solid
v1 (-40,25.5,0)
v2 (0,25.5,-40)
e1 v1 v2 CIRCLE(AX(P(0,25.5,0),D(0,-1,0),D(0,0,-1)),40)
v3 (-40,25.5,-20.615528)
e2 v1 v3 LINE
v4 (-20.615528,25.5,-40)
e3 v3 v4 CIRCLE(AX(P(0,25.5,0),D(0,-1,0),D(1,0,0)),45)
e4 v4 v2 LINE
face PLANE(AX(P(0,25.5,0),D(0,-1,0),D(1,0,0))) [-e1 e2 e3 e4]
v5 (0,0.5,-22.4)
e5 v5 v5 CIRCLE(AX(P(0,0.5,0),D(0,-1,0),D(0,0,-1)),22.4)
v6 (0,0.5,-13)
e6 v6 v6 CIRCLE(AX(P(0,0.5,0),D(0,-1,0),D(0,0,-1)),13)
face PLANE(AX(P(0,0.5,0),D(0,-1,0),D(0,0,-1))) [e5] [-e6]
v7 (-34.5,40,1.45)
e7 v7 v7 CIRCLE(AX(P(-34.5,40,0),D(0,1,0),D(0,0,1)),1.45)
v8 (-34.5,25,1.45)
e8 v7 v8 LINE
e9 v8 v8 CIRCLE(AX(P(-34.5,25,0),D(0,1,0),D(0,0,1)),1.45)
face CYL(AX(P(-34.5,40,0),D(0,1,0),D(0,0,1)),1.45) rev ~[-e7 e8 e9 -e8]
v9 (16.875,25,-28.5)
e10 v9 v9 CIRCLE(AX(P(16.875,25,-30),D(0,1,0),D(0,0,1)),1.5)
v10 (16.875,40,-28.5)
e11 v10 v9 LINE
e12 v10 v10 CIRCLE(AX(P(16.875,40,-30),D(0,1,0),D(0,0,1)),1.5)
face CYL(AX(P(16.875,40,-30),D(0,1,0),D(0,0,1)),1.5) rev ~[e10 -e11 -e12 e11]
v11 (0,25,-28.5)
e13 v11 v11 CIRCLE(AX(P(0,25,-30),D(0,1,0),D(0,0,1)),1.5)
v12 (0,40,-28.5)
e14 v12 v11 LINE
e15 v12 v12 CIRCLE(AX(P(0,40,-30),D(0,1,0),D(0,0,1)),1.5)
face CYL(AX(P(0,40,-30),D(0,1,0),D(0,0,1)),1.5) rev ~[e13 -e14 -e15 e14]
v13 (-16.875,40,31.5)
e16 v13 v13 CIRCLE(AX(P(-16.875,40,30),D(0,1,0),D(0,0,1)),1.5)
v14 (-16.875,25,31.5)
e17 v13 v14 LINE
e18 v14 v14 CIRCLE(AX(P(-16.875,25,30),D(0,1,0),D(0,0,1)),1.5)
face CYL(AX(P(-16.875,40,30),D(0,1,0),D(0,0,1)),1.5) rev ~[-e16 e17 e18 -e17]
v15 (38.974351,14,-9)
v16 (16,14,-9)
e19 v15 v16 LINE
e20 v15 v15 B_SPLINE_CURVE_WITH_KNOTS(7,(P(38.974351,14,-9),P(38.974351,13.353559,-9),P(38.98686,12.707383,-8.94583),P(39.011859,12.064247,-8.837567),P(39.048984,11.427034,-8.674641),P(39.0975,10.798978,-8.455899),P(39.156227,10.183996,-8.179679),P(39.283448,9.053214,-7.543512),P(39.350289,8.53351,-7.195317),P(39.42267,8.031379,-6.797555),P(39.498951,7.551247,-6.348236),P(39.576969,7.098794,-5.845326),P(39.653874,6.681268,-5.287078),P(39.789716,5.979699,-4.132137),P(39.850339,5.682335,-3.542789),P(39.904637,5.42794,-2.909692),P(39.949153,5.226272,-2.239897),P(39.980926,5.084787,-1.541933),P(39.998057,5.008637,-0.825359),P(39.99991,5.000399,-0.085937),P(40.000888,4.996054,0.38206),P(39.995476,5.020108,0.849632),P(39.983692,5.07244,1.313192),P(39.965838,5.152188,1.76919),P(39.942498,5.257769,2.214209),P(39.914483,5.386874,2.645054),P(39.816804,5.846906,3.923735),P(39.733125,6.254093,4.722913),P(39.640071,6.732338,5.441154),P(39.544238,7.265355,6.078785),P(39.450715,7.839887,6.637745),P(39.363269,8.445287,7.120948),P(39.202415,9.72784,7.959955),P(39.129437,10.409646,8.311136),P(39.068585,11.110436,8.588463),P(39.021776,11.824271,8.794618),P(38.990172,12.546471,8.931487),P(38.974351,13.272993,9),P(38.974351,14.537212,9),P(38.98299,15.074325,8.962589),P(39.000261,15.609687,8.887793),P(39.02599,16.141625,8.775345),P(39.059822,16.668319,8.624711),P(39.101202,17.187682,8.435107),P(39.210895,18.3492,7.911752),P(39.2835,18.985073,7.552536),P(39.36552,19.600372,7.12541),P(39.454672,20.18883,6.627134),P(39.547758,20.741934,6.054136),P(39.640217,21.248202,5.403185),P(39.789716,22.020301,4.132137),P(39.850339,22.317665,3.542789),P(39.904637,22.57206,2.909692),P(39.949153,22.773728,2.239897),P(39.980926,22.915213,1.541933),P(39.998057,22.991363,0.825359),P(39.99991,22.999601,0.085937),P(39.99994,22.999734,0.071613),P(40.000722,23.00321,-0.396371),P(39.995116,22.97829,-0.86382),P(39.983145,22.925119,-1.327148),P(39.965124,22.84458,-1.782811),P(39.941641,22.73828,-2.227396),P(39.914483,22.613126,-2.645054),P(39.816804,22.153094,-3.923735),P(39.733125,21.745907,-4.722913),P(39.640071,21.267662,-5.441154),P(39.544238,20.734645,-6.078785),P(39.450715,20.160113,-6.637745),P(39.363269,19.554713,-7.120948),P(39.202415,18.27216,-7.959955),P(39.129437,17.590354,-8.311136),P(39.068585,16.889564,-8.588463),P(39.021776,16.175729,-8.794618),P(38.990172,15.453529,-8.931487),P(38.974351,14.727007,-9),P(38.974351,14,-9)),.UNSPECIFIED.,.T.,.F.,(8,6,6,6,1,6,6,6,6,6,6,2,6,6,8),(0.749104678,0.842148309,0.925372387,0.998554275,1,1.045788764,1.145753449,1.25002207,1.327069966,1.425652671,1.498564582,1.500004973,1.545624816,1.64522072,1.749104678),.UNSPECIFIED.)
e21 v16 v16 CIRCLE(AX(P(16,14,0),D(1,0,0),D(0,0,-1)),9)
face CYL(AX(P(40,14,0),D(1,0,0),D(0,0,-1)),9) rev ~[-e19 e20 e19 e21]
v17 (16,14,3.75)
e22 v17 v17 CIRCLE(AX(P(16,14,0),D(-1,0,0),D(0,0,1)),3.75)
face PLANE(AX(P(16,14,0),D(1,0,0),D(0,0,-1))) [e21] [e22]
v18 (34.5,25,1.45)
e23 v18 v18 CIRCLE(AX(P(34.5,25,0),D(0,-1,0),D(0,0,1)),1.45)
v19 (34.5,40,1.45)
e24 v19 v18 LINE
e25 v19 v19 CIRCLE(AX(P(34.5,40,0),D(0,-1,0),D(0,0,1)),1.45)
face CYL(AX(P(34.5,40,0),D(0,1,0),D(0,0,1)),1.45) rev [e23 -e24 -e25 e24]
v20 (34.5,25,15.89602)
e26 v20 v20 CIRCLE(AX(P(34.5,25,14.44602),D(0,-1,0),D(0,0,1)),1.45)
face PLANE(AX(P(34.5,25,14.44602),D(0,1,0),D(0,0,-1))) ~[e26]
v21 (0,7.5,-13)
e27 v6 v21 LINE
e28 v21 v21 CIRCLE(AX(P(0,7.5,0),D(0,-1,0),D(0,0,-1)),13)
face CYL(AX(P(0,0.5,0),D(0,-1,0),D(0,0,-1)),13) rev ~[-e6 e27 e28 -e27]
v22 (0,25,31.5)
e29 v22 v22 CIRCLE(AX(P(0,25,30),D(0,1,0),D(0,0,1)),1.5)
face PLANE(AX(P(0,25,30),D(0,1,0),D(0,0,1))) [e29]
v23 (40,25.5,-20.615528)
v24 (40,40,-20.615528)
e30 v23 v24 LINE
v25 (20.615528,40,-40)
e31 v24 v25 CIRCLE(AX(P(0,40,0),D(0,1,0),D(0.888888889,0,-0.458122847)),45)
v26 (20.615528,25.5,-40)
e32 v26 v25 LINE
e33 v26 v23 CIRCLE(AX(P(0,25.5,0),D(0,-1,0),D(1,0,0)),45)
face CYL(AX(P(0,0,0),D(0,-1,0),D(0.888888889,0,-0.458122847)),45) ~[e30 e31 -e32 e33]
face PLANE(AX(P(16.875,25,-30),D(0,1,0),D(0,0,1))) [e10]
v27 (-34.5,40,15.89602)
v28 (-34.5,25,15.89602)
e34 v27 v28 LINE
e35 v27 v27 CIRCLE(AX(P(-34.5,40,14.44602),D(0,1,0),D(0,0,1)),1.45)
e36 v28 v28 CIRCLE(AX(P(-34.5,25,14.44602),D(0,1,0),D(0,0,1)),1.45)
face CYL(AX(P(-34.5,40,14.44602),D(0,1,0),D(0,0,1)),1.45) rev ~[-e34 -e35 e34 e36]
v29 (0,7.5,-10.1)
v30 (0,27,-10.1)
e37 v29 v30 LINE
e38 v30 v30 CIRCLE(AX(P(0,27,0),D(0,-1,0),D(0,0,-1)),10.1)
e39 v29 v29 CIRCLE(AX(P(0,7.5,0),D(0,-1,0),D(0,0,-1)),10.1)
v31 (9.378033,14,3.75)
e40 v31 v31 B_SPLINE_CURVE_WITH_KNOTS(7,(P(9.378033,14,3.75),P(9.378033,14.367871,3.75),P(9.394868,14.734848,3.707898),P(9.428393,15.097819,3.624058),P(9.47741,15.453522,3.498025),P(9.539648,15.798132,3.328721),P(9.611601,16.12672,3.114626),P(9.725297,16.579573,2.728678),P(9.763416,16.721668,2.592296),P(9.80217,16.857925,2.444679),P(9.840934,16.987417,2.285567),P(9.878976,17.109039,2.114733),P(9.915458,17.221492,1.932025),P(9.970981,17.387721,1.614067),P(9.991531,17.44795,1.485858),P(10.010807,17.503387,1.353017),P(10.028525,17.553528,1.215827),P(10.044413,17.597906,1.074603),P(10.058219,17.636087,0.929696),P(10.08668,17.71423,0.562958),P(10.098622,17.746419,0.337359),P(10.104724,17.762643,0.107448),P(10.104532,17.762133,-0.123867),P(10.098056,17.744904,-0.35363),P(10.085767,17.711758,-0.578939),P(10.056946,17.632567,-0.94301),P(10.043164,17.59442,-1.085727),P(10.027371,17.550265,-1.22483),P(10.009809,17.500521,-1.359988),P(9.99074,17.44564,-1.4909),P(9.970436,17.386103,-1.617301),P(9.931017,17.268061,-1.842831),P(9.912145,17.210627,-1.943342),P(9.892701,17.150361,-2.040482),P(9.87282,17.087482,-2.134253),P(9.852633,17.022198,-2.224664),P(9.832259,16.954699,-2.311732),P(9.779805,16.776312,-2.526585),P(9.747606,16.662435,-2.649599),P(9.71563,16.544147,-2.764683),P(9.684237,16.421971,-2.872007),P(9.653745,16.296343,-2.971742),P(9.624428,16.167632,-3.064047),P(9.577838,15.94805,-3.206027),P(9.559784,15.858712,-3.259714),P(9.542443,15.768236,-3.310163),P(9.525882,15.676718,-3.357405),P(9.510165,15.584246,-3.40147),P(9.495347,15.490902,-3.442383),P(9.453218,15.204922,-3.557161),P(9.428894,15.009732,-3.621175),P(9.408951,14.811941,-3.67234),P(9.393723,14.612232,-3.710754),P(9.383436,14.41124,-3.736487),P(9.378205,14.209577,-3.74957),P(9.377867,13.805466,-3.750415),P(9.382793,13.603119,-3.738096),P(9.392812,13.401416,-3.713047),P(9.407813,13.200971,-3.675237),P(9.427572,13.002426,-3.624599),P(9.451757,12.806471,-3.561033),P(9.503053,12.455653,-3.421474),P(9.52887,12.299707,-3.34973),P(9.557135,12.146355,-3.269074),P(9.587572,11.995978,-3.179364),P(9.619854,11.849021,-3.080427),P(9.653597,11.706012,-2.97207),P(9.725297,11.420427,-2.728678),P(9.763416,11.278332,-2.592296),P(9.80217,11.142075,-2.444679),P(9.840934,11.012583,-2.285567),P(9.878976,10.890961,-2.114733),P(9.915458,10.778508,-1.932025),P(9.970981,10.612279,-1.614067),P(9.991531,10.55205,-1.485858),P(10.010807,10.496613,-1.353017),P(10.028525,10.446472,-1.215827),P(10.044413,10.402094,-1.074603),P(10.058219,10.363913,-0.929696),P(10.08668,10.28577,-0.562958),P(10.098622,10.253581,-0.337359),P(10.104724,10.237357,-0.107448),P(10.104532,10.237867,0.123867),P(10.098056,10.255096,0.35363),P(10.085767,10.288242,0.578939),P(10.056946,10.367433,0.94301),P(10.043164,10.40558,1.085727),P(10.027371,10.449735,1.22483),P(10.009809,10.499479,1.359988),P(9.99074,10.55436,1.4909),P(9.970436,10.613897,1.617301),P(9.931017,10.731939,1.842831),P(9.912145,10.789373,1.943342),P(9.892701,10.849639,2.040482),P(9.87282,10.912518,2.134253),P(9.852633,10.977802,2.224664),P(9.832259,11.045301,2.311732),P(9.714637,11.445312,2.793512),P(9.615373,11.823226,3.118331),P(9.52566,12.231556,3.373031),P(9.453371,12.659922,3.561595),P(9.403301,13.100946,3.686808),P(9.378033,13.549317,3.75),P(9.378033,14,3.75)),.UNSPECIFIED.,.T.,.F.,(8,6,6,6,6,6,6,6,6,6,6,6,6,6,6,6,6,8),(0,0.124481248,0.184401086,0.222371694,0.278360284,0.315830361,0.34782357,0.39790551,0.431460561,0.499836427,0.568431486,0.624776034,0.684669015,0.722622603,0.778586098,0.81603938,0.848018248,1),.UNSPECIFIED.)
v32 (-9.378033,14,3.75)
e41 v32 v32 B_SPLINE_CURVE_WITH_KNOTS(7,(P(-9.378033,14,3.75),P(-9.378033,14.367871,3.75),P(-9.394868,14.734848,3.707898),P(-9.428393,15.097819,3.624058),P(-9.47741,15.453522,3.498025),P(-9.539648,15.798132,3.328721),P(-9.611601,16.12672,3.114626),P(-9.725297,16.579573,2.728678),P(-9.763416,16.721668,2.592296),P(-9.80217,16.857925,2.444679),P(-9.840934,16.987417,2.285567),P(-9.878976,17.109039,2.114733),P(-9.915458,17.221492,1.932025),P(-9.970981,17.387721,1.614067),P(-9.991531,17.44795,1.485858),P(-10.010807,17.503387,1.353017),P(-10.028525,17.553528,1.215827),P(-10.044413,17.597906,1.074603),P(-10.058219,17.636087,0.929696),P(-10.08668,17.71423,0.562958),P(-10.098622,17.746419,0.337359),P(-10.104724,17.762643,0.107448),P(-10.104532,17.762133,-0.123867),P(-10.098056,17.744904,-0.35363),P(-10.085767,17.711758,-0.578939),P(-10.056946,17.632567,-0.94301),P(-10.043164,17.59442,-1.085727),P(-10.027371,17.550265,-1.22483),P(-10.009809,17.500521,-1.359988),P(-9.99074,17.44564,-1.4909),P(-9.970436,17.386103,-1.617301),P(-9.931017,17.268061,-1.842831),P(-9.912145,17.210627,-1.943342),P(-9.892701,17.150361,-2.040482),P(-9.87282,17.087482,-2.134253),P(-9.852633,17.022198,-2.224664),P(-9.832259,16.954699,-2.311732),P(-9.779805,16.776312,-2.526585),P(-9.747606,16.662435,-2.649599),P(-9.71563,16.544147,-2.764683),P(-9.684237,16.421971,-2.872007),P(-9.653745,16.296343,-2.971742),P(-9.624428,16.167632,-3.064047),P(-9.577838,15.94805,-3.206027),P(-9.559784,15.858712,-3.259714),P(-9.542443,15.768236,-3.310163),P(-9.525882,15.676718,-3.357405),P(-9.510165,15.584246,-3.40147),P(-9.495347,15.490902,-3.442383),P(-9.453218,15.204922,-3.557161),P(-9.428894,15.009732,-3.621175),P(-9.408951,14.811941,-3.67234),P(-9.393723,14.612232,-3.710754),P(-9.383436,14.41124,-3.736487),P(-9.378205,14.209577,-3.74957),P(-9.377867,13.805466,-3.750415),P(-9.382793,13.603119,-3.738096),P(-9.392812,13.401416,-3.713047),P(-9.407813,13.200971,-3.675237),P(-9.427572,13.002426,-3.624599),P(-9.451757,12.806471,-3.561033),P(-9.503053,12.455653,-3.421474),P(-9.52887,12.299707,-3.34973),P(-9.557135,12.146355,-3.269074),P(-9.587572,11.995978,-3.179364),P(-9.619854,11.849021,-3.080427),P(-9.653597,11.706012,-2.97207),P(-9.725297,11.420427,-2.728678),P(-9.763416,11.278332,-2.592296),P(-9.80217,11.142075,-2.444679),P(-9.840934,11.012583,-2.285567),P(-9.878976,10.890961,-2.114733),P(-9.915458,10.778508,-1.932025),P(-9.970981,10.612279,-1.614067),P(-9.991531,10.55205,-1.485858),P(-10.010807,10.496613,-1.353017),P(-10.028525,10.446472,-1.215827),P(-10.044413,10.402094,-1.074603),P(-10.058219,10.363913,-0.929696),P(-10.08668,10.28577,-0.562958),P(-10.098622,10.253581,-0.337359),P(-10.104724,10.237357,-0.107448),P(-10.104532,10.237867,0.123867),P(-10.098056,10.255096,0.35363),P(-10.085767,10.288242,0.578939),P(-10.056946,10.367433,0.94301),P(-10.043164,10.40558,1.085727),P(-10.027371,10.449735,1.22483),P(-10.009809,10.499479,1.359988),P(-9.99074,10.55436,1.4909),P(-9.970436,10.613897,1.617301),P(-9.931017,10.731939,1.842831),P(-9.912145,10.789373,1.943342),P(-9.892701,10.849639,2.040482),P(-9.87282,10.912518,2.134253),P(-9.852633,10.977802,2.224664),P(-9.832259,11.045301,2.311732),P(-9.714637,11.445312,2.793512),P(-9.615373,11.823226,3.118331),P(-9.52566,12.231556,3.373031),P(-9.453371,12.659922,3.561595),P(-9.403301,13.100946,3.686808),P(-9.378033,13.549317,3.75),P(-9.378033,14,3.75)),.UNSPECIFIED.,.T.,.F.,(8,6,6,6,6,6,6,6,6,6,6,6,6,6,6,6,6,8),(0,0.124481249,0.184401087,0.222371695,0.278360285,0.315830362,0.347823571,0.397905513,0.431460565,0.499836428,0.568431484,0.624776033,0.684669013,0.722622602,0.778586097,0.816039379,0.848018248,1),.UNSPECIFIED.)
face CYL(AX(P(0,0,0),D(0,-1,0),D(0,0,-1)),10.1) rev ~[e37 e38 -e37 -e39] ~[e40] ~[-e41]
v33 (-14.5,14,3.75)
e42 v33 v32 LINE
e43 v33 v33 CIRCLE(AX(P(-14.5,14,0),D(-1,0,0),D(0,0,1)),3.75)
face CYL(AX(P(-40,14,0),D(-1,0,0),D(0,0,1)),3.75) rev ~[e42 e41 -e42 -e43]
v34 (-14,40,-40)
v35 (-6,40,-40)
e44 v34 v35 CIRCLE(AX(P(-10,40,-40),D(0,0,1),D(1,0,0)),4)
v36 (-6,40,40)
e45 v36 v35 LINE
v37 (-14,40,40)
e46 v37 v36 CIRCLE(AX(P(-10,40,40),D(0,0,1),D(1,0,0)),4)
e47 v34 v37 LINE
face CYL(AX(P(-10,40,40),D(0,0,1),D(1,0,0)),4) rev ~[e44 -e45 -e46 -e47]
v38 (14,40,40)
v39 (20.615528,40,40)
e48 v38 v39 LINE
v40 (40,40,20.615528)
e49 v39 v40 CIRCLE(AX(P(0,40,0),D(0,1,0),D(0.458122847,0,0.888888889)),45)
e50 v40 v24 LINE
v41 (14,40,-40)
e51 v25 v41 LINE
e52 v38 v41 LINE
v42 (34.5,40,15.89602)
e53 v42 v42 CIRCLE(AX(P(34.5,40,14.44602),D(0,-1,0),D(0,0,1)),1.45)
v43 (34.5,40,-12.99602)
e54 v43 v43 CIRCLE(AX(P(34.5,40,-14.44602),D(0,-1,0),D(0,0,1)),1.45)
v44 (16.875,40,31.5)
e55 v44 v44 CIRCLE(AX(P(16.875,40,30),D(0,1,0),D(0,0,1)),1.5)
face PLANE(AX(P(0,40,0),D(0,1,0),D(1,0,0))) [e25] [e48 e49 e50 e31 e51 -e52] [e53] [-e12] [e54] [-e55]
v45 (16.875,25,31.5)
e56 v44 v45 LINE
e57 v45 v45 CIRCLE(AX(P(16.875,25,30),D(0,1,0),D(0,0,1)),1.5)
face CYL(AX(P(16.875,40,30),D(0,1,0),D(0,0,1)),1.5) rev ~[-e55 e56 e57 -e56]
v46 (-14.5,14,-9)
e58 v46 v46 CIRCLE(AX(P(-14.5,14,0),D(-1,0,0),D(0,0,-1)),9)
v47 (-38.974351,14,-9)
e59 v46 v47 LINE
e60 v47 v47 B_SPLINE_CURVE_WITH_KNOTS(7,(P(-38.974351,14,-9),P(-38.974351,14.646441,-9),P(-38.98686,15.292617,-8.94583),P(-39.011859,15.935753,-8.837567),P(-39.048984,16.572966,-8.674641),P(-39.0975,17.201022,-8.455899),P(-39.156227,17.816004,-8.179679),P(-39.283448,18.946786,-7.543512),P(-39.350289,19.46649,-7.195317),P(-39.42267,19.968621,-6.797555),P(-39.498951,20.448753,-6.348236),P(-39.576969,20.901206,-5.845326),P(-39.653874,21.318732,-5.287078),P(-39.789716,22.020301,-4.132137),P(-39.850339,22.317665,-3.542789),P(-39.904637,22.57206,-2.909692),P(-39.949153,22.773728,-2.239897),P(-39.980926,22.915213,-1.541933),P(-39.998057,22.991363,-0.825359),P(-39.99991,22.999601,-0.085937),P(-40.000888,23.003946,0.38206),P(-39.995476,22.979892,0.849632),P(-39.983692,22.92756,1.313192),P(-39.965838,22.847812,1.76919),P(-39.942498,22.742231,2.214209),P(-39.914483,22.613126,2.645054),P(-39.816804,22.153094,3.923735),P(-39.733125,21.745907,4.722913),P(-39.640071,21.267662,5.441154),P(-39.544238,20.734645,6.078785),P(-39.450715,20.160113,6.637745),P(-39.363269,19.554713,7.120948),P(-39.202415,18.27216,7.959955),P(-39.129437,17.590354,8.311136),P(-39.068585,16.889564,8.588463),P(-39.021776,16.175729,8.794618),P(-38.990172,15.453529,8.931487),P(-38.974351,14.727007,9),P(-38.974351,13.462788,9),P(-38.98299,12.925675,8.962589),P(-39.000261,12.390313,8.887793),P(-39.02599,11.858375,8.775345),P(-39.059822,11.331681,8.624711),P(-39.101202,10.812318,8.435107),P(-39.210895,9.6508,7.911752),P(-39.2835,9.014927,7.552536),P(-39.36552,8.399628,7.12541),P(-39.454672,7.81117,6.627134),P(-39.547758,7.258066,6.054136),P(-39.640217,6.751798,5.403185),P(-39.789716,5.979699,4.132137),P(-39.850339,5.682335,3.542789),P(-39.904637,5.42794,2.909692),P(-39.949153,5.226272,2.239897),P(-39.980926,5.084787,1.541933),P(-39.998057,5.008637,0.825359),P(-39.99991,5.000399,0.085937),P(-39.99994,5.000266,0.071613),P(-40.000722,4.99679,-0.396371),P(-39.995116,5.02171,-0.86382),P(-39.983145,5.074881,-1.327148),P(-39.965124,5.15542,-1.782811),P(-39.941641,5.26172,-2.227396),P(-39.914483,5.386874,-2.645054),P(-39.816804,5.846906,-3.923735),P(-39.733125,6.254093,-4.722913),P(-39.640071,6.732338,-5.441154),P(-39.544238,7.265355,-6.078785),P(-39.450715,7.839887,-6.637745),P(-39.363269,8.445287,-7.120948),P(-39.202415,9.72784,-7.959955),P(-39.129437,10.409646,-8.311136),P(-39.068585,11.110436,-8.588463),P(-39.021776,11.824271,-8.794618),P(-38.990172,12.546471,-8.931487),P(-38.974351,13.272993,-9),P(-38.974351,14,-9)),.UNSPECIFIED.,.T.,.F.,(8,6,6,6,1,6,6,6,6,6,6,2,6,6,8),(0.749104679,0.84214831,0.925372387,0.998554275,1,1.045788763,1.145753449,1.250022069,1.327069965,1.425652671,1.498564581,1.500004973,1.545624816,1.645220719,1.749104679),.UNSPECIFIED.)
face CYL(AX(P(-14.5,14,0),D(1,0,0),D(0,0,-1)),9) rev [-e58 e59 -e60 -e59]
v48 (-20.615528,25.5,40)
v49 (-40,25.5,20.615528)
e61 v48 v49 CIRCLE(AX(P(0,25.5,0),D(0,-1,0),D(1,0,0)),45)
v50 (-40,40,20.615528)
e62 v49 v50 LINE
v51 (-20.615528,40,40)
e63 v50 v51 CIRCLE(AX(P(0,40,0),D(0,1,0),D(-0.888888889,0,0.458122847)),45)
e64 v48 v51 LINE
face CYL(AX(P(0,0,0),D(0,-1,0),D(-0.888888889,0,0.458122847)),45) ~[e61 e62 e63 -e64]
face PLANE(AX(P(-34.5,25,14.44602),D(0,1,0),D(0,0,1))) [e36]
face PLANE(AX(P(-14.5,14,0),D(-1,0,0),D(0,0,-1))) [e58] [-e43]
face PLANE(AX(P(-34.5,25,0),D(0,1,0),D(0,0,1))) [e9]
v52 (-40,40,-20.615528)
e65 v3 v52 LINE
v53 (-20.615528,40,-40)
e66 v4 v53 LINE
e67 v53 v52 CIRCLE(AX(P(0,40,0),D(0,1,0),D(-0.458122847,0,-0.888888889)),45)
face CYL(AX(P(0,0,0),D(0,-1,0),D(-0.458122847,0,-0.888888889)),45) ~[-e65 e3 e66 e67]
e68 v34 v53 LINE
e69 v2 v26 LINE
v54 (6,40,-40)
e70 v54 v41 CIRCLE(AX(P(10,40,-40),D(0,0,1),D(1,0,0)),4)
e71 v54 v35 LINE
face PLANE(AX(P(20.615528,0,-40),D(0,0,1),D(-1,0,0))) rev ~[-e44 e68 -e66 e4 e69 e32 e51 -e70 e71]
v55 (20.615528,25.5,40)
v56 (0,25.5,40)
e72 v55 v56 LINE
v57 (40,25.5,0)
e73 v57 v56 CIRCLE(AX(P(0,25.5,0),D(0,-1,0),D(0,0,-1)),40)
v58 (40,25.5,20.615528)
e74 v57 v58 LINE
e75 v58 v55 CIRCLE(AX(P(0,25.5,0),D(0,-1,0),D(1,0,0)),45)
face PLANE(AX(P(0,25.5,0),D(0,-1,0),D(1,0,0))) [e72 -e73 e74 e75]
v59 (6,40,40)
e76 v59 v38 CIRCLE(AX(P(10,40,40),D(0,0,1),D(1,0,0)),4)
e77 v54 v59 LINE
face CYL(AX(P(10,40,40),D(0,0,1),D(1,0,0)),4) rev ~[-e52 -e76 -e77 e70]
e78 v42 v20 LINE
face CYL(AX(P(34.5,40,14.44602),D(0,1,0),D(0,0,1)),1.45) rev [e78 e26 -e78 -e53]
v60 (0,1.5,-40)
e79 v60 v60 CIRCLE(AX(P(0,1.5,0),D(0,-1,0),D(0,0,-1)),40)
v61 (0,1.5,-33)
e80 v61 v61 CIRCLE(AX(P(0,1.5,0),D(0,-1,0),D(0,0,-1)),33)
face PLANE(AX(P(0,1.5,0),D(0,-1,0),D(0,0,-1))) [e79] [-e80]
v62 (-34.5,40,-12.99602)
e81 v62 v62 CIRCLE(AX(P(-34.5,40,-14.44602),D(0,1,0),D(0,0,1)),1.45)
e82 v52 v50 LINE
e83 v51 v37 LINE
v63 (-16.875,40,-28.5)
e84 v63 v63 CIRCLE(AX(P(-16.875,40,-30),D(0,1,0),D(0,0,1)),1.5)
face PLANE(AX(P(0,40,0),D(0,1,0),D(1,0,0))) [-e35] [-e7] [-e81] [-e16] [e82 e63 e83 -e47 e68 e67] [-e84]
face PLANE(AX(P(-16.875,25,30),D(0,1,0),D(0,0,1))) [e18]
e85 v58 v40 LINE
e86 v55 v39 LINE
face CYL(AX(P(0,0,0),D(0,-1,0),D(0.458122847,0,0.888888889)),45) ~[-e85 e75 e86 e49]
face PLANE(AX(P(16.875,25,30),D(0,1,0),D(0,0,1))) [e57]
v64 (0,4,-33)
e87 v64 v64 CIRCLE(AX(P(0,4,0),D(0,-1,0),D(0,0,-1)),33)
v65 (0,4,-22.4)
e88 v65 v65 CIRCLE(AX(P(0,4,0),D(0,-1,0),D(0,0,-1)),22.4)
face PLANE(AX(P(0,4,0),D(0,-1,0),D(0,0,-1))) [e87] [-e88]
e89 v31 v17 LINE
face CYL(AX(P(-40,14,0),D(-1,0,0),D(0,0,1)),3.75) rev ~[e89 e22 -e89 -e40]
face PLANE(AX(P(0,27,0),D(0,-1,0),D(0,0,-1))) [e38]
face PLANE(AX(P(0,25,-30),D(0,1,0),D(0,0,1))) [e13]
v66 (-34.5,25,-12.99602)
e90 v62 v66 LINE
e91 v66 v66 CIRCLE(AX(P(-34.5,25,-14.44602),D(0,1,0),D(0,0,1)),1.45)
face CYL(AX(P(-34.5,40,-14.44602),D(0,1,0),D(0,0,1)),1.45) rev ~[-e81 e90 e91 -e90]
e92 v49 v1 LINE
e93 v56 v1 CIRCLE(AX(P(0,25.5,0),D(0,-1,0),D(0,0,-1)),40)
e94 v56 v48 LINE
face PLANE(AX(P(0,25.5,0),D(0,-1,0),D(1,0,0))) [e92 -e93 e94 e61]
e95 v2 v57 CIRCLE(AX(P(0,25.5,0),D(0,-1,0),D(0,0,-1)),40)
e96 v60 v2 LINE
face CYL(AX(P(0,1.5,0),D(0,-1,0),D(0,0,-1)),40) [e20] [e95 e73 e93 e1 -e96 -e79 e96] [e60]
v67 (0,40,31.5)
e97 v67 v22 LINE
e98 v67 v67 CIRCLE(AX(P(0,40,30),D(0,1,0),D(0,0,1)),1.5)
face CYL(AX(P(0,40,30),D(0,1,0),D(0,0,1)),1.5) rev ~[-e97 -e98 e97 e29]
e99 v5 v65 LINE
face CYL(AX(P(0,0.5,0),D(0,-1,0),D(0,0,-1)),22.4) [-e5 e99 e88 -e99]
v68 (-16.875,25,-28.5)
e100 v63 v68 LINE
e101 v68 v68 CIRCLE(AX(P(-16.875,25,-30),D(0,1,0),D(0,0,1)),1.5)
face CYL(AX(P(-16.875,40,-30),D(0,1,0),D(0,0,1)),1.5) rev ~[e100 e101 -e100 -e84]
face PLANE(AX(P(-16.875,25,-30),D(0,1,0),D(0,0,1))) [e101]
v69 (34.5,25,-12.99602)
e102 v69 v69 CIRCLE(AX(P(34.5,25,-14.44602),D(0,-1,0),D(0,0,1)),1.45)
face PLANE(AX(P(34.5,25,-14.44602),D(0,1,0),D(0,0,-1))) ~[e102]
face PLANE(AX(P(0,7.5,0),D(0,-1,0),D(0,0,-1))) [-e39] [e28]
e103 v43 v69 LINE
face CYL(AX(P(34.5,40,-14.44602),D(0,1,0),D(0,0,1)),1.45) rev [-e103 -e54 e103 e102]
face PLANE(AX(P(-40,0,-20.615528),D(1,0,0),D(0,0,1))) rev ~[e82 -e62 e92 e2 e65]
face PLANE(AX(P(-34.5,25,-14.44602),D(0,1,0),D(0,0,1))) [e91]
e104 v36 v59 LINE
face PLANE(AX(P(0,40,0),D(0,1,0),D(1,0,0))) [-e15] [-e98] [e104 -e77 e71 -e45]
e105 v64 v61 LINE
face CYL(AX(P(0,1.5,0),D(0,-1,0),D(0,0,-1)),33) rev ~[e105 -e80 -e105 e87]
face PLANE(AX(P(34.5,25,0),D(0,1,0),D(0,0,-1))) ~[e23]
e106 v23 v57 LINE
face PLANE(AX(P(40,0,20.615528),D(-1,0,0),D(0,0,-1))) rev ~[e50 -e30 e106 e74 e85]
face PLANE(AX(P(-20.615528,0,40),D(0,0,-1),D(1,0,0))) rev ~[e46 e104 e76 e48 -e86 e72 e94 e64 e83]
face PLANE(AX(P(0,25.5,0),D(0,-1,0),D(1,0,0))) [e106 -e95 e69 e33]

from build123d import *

# Parameters (mm, degrees)
SALIENTE_EXTRUIR1_DEPTH = 40
CROQUIS5_R              = 1.45
CORTAR_EXTRUIR3_DEPTH   = 15
CROQUIS6_R              = 4
CORTAR_EXTRUIR4_DEPTH   = 106
CROQUIS8_R              = 10.1
CORTAR_EXTRUIR5_DEPTH   = 27
CROQUIS9_R              = 3.75
CORTAR_EXTRUIR6_DEPTH   = 80
CROQUIS12_R             = 1.5
CORTAR_EXTRUIR8_DEPTH   = 15
CROQUIS16_W             = 80
CROQUIS16_H             = 3
CORTAR_EXTRUIR11_DEPTH  = 80
CROQUIS21_R             = 33
CROQUIS21_R_2           = 22.4
CORTAR_EXTRUIR12_DEPTH  = 1
SALIENTE_EXTRUIR2_START = 2.5
CROQUIS22_R             = 22.4
SALIENTE_EXTRUIR2_DEPTH = 2.5
SALIENTE_EXTRUIR3_START = 1.5
CROQUIS24_R             = 40
CROQUIS24_R_2           = 33
SALIENTE_EXTRUIR3_DEPTH = 1.5
CROQUIS25_R             = 13
CORTAR_EXTRUIR13_DEPTH  = 7
CROQUIS26_R             = 9
CORTAR_EXTRUIR14_DEPTH  = 24
CORTAR_EXTRUIR15_START  = -25.5
CROQUIS27_R             = 9
CORTAR_EXTRUIR15_DEPTH  = 25.5
CROQUIS28_R             = 45
CROQUIS28_R_2           = 40
CORTAR_EXTRUIR16_DEPTH  = 25


with BuildPart() as part:
    # Croquis1 → Saliente-Extruir1 (new body)
    with BuildSketch(Plane(origin=(0, 0, 0), x_dir=(1, 0, 0), z_dir=(0, 1, 0))):
        with BuildLine():
            ThreePointArc((-40, -20.615528128), (-31.819805153, -31.819805153), (-20.615528128, -40))
            Line((-20.615528128, -40), (20.615528128, -40))
            ThreePointArc((20.615528128, -40), (31.819805153, -31.819805153), (40, -20.615528128))
            Line((40, -20.615528128), (40, 20.615528128))
            ThreePointArc((40, 20.615528128), (31.819805153, 31.819805153), (20.615528128, 40))
            Line((20.615528128, 40), (-20.615528128, 40))
            ThreePointArc((-20.615528128, 40), (-31.819805153, 31.819805153), (-40, 20.615528128))
            Line((-40, 20.615528128), (-40, -20.615528128))
        make_face()
    extrude(amount=SALIENTE_EXTRUIR1_DEPTH)

    # Croquis5 → Cortar-Extruir3 (cut)
    with BuildSketch(Plane(origin=(0, 40, 0), x_dir=(1, 0, 0), z_dir=(0, 1, 0))):
        with Locations(Location((-34.5, 14.446020213, 0), (0, 0, 270))):
            Circle(CROQUIS5_R)
        with Locations(Location((-34.5, -14.446020213, 0), (0, 0, 270))):
            Circle(CROQUIS5_R)
        with Locations(Location((-34.5, 0, 0), (0, 0, 270))):
            Circle(CROQUIS5_R)
    cortar_extruir3 = extrude(amount=-CORTAR_EXTRUIR3_DEPTH, mode=Mode.SUBTRACT)

    # Simetría1: Cortar-Extruir3 across plane
    add(cortar_extruir3.mirror(Plane(origin=(0, 0, 0), x_dir=(0, 0, 1), z_dir=(1, 0, 0))), mode=Mode.SUBTRACT)

    # Croquis6 → Cortar-Extruir4 (cut)
    with BuildSketch(Plane.XY.offset(40)):
        with Locations((-10, 40)):
            Circle(CROQUIS6_R)
        with Locations((10, 40)):
            Circle(CROQUIS6_R)
    extrude(amount=-CORTAR_EXTRUIR4_DEPTH, mode=Mode.SUBTRACT)

    # Croquis8 → Cortar-Extruir5 (cut)
    with BuildSketch(Plane.XZ):
        with Locations(Location((0, 0, 0), (0, 0, 270))):
            Circle(CROQUIS8_R)
    extrude(amount=-CORTAR_EXTRUIR5_DEPTH, mode=Mode.SUBTRACT)

    # Croquis9 → Cortar-Extruir6 (cut)
    with BuildSketch(Plane.ZY.offset(40)):
        with Locations((0, 14)):
            Circle(CROQUIS9_R)
    extrude(amount=-CORTAR_EXTRUIR6_DEPTH, mode=Mode.SUBTRACT)

    # Croquis12 → Cortar-Extruir8 (cut)
    with BuildSketch(Plane(origin=(0, 40, 0), x_dir=(1, 0, 0), z_dir=(0, 1, 0))):
        with Locations(Location((-16.875, 30, 0), (0, 0, 270))):
            Circle(CROQUIS12_R)
        with Locations(Location((0, 30, 0), (0, 0, 270))):
            Circle(CROQUIS12_R)
        with Locations(Location((16.875, 30, 0), (0, 0, 270))):
            Circle(CROQUIS12_R)
        with Locations(Location((-16.875, -30, 0), (0, 0, 270))):
            Circle(CROQUIS12_R)
        with Locations(Location((0, -30, 0), (0, 0, 270))):
            Circle(CROQUIS12_R)
        with Locations(Location((16.875, -30, 0), (0, 0, 270))):
            Circle(CROQUIS12_R)
    extrude(amount=-CORTAR_EXTRUIR8_DEPTH, mode=Mode.SUBTRACT)

    # Croquis16 → Cortar-Extruir11 (cut)
    with BuildSketch(Plane(origin=(40, 0, 0), x_dir=(0, 0, -1), z_dir=(1, 0, 0))):
        with Locations((0, 1.5)):
            Rectangle(CROQUIS16_W, CROQUIS16_H)
    extrude(amount=-CORTAR_EXTRUIR11_DEPTH, mode=Mode.SUBTRACT)

    # Croquis21 → Cortar-Extruir12 (cut)
    with BuildSketch(Plane.XZ.offset(-3)):
        with Locations(Location((0, 0, 0), (0, 0, 270))):
            Circle(CROQUIS21_R)
        with Locations(Location((0, 0, 0), (0, 0, 270))):
            Circle(CROQUIS21_R_2, mode=Mode.SUBTRACT)
    extrude(amount=-CORTAR_EXTRUIR12_DEPTH, mode=Mode.SUBTRACT)

    # Croquis22 → Saliente-Extruir2 (add)
    with BuildSketch(Plane.XZ.offset(-3).offset(SALIENTE_EXTRUIR2_START)):
        with Locations(Location((0, 0, 0), (0, 0, 270))):
            Circle(CROQUIS22_R)
    extrude(amount=-SALIENTE_EXTRUIR2_DEPTH)

    # Croquis24 → Saliente-Extruir3 (add)
    with BuildSketch(Plane.XZ.offset(-3).offset(SALIENTE_EXTRUIR3_START)):
        with Locations(Location((0, 0, 0), (0, 0, 270))):
            Circle(CROQUIS24_R)
        with Locations(Location((0, 0, 0), (0, 0, 270))):
            Circle(CROQUIS24_R_2, mode=Mode.SUBTRACT)
    extrude(amount=-SALIENTE_EXTRUIR3_DEPTH)

    # Croquis25 → Cortar-Extruir13 (cut)
    with BuildSketch(Plane.XZ.offset(-0.5)):
        with Locations(Location((0, 0, 0), (0, 0, 270))):
            Circle(CROQUIS25_R)
    extrude(amount=-CORTAR_EXTRUIR13_DEPTH, mode=Mode.SUBTRACT)

    # Croquis26 → Cortar-Extruir14 (cut)
    with BuildSketch(Plane(origin=(40, 0, 0), x_dir=(0, 0, -1), z_dir=(1, 0, 0))):
        with Locations((0, 14)):
            Circle(CROQUIS26_R)
    extrude(amount=-CORTAR_EXTRUIR14_DEPTH, mode=Mode.SUBTRACT)

    # Croquis27 → Cortar-Extruir15 (cut)
    with BuildSketch(Plane.ZY.offset(40).offset(CORTAR_EXTRUIR15_START)):
        with Locations(Location((0, 14, 0), (0, 0, 180))):
            Circle(CROQUIS27_R)
    extrude(amount=CORTAR_EXTRUIR15_DEPTH, mode=Mode.SUBTRACT)

    # Croquis28 → Cortar-Extruir16 (cut)
    with BuildSketch(Plane.XZ.offset(-0.5)):
        Circle(CROQUIS28_R)
        with Locations(Location((0, 0, 0), (0, 0, 270))):
            Circle(CROQUIS28_R_2, mode=Mode.SUBTRACT)
    extrude(amount=-CORTAR_EXTRUIR16_DEPTH, mode=Mode.SUBTRACT)


solid = part.part
